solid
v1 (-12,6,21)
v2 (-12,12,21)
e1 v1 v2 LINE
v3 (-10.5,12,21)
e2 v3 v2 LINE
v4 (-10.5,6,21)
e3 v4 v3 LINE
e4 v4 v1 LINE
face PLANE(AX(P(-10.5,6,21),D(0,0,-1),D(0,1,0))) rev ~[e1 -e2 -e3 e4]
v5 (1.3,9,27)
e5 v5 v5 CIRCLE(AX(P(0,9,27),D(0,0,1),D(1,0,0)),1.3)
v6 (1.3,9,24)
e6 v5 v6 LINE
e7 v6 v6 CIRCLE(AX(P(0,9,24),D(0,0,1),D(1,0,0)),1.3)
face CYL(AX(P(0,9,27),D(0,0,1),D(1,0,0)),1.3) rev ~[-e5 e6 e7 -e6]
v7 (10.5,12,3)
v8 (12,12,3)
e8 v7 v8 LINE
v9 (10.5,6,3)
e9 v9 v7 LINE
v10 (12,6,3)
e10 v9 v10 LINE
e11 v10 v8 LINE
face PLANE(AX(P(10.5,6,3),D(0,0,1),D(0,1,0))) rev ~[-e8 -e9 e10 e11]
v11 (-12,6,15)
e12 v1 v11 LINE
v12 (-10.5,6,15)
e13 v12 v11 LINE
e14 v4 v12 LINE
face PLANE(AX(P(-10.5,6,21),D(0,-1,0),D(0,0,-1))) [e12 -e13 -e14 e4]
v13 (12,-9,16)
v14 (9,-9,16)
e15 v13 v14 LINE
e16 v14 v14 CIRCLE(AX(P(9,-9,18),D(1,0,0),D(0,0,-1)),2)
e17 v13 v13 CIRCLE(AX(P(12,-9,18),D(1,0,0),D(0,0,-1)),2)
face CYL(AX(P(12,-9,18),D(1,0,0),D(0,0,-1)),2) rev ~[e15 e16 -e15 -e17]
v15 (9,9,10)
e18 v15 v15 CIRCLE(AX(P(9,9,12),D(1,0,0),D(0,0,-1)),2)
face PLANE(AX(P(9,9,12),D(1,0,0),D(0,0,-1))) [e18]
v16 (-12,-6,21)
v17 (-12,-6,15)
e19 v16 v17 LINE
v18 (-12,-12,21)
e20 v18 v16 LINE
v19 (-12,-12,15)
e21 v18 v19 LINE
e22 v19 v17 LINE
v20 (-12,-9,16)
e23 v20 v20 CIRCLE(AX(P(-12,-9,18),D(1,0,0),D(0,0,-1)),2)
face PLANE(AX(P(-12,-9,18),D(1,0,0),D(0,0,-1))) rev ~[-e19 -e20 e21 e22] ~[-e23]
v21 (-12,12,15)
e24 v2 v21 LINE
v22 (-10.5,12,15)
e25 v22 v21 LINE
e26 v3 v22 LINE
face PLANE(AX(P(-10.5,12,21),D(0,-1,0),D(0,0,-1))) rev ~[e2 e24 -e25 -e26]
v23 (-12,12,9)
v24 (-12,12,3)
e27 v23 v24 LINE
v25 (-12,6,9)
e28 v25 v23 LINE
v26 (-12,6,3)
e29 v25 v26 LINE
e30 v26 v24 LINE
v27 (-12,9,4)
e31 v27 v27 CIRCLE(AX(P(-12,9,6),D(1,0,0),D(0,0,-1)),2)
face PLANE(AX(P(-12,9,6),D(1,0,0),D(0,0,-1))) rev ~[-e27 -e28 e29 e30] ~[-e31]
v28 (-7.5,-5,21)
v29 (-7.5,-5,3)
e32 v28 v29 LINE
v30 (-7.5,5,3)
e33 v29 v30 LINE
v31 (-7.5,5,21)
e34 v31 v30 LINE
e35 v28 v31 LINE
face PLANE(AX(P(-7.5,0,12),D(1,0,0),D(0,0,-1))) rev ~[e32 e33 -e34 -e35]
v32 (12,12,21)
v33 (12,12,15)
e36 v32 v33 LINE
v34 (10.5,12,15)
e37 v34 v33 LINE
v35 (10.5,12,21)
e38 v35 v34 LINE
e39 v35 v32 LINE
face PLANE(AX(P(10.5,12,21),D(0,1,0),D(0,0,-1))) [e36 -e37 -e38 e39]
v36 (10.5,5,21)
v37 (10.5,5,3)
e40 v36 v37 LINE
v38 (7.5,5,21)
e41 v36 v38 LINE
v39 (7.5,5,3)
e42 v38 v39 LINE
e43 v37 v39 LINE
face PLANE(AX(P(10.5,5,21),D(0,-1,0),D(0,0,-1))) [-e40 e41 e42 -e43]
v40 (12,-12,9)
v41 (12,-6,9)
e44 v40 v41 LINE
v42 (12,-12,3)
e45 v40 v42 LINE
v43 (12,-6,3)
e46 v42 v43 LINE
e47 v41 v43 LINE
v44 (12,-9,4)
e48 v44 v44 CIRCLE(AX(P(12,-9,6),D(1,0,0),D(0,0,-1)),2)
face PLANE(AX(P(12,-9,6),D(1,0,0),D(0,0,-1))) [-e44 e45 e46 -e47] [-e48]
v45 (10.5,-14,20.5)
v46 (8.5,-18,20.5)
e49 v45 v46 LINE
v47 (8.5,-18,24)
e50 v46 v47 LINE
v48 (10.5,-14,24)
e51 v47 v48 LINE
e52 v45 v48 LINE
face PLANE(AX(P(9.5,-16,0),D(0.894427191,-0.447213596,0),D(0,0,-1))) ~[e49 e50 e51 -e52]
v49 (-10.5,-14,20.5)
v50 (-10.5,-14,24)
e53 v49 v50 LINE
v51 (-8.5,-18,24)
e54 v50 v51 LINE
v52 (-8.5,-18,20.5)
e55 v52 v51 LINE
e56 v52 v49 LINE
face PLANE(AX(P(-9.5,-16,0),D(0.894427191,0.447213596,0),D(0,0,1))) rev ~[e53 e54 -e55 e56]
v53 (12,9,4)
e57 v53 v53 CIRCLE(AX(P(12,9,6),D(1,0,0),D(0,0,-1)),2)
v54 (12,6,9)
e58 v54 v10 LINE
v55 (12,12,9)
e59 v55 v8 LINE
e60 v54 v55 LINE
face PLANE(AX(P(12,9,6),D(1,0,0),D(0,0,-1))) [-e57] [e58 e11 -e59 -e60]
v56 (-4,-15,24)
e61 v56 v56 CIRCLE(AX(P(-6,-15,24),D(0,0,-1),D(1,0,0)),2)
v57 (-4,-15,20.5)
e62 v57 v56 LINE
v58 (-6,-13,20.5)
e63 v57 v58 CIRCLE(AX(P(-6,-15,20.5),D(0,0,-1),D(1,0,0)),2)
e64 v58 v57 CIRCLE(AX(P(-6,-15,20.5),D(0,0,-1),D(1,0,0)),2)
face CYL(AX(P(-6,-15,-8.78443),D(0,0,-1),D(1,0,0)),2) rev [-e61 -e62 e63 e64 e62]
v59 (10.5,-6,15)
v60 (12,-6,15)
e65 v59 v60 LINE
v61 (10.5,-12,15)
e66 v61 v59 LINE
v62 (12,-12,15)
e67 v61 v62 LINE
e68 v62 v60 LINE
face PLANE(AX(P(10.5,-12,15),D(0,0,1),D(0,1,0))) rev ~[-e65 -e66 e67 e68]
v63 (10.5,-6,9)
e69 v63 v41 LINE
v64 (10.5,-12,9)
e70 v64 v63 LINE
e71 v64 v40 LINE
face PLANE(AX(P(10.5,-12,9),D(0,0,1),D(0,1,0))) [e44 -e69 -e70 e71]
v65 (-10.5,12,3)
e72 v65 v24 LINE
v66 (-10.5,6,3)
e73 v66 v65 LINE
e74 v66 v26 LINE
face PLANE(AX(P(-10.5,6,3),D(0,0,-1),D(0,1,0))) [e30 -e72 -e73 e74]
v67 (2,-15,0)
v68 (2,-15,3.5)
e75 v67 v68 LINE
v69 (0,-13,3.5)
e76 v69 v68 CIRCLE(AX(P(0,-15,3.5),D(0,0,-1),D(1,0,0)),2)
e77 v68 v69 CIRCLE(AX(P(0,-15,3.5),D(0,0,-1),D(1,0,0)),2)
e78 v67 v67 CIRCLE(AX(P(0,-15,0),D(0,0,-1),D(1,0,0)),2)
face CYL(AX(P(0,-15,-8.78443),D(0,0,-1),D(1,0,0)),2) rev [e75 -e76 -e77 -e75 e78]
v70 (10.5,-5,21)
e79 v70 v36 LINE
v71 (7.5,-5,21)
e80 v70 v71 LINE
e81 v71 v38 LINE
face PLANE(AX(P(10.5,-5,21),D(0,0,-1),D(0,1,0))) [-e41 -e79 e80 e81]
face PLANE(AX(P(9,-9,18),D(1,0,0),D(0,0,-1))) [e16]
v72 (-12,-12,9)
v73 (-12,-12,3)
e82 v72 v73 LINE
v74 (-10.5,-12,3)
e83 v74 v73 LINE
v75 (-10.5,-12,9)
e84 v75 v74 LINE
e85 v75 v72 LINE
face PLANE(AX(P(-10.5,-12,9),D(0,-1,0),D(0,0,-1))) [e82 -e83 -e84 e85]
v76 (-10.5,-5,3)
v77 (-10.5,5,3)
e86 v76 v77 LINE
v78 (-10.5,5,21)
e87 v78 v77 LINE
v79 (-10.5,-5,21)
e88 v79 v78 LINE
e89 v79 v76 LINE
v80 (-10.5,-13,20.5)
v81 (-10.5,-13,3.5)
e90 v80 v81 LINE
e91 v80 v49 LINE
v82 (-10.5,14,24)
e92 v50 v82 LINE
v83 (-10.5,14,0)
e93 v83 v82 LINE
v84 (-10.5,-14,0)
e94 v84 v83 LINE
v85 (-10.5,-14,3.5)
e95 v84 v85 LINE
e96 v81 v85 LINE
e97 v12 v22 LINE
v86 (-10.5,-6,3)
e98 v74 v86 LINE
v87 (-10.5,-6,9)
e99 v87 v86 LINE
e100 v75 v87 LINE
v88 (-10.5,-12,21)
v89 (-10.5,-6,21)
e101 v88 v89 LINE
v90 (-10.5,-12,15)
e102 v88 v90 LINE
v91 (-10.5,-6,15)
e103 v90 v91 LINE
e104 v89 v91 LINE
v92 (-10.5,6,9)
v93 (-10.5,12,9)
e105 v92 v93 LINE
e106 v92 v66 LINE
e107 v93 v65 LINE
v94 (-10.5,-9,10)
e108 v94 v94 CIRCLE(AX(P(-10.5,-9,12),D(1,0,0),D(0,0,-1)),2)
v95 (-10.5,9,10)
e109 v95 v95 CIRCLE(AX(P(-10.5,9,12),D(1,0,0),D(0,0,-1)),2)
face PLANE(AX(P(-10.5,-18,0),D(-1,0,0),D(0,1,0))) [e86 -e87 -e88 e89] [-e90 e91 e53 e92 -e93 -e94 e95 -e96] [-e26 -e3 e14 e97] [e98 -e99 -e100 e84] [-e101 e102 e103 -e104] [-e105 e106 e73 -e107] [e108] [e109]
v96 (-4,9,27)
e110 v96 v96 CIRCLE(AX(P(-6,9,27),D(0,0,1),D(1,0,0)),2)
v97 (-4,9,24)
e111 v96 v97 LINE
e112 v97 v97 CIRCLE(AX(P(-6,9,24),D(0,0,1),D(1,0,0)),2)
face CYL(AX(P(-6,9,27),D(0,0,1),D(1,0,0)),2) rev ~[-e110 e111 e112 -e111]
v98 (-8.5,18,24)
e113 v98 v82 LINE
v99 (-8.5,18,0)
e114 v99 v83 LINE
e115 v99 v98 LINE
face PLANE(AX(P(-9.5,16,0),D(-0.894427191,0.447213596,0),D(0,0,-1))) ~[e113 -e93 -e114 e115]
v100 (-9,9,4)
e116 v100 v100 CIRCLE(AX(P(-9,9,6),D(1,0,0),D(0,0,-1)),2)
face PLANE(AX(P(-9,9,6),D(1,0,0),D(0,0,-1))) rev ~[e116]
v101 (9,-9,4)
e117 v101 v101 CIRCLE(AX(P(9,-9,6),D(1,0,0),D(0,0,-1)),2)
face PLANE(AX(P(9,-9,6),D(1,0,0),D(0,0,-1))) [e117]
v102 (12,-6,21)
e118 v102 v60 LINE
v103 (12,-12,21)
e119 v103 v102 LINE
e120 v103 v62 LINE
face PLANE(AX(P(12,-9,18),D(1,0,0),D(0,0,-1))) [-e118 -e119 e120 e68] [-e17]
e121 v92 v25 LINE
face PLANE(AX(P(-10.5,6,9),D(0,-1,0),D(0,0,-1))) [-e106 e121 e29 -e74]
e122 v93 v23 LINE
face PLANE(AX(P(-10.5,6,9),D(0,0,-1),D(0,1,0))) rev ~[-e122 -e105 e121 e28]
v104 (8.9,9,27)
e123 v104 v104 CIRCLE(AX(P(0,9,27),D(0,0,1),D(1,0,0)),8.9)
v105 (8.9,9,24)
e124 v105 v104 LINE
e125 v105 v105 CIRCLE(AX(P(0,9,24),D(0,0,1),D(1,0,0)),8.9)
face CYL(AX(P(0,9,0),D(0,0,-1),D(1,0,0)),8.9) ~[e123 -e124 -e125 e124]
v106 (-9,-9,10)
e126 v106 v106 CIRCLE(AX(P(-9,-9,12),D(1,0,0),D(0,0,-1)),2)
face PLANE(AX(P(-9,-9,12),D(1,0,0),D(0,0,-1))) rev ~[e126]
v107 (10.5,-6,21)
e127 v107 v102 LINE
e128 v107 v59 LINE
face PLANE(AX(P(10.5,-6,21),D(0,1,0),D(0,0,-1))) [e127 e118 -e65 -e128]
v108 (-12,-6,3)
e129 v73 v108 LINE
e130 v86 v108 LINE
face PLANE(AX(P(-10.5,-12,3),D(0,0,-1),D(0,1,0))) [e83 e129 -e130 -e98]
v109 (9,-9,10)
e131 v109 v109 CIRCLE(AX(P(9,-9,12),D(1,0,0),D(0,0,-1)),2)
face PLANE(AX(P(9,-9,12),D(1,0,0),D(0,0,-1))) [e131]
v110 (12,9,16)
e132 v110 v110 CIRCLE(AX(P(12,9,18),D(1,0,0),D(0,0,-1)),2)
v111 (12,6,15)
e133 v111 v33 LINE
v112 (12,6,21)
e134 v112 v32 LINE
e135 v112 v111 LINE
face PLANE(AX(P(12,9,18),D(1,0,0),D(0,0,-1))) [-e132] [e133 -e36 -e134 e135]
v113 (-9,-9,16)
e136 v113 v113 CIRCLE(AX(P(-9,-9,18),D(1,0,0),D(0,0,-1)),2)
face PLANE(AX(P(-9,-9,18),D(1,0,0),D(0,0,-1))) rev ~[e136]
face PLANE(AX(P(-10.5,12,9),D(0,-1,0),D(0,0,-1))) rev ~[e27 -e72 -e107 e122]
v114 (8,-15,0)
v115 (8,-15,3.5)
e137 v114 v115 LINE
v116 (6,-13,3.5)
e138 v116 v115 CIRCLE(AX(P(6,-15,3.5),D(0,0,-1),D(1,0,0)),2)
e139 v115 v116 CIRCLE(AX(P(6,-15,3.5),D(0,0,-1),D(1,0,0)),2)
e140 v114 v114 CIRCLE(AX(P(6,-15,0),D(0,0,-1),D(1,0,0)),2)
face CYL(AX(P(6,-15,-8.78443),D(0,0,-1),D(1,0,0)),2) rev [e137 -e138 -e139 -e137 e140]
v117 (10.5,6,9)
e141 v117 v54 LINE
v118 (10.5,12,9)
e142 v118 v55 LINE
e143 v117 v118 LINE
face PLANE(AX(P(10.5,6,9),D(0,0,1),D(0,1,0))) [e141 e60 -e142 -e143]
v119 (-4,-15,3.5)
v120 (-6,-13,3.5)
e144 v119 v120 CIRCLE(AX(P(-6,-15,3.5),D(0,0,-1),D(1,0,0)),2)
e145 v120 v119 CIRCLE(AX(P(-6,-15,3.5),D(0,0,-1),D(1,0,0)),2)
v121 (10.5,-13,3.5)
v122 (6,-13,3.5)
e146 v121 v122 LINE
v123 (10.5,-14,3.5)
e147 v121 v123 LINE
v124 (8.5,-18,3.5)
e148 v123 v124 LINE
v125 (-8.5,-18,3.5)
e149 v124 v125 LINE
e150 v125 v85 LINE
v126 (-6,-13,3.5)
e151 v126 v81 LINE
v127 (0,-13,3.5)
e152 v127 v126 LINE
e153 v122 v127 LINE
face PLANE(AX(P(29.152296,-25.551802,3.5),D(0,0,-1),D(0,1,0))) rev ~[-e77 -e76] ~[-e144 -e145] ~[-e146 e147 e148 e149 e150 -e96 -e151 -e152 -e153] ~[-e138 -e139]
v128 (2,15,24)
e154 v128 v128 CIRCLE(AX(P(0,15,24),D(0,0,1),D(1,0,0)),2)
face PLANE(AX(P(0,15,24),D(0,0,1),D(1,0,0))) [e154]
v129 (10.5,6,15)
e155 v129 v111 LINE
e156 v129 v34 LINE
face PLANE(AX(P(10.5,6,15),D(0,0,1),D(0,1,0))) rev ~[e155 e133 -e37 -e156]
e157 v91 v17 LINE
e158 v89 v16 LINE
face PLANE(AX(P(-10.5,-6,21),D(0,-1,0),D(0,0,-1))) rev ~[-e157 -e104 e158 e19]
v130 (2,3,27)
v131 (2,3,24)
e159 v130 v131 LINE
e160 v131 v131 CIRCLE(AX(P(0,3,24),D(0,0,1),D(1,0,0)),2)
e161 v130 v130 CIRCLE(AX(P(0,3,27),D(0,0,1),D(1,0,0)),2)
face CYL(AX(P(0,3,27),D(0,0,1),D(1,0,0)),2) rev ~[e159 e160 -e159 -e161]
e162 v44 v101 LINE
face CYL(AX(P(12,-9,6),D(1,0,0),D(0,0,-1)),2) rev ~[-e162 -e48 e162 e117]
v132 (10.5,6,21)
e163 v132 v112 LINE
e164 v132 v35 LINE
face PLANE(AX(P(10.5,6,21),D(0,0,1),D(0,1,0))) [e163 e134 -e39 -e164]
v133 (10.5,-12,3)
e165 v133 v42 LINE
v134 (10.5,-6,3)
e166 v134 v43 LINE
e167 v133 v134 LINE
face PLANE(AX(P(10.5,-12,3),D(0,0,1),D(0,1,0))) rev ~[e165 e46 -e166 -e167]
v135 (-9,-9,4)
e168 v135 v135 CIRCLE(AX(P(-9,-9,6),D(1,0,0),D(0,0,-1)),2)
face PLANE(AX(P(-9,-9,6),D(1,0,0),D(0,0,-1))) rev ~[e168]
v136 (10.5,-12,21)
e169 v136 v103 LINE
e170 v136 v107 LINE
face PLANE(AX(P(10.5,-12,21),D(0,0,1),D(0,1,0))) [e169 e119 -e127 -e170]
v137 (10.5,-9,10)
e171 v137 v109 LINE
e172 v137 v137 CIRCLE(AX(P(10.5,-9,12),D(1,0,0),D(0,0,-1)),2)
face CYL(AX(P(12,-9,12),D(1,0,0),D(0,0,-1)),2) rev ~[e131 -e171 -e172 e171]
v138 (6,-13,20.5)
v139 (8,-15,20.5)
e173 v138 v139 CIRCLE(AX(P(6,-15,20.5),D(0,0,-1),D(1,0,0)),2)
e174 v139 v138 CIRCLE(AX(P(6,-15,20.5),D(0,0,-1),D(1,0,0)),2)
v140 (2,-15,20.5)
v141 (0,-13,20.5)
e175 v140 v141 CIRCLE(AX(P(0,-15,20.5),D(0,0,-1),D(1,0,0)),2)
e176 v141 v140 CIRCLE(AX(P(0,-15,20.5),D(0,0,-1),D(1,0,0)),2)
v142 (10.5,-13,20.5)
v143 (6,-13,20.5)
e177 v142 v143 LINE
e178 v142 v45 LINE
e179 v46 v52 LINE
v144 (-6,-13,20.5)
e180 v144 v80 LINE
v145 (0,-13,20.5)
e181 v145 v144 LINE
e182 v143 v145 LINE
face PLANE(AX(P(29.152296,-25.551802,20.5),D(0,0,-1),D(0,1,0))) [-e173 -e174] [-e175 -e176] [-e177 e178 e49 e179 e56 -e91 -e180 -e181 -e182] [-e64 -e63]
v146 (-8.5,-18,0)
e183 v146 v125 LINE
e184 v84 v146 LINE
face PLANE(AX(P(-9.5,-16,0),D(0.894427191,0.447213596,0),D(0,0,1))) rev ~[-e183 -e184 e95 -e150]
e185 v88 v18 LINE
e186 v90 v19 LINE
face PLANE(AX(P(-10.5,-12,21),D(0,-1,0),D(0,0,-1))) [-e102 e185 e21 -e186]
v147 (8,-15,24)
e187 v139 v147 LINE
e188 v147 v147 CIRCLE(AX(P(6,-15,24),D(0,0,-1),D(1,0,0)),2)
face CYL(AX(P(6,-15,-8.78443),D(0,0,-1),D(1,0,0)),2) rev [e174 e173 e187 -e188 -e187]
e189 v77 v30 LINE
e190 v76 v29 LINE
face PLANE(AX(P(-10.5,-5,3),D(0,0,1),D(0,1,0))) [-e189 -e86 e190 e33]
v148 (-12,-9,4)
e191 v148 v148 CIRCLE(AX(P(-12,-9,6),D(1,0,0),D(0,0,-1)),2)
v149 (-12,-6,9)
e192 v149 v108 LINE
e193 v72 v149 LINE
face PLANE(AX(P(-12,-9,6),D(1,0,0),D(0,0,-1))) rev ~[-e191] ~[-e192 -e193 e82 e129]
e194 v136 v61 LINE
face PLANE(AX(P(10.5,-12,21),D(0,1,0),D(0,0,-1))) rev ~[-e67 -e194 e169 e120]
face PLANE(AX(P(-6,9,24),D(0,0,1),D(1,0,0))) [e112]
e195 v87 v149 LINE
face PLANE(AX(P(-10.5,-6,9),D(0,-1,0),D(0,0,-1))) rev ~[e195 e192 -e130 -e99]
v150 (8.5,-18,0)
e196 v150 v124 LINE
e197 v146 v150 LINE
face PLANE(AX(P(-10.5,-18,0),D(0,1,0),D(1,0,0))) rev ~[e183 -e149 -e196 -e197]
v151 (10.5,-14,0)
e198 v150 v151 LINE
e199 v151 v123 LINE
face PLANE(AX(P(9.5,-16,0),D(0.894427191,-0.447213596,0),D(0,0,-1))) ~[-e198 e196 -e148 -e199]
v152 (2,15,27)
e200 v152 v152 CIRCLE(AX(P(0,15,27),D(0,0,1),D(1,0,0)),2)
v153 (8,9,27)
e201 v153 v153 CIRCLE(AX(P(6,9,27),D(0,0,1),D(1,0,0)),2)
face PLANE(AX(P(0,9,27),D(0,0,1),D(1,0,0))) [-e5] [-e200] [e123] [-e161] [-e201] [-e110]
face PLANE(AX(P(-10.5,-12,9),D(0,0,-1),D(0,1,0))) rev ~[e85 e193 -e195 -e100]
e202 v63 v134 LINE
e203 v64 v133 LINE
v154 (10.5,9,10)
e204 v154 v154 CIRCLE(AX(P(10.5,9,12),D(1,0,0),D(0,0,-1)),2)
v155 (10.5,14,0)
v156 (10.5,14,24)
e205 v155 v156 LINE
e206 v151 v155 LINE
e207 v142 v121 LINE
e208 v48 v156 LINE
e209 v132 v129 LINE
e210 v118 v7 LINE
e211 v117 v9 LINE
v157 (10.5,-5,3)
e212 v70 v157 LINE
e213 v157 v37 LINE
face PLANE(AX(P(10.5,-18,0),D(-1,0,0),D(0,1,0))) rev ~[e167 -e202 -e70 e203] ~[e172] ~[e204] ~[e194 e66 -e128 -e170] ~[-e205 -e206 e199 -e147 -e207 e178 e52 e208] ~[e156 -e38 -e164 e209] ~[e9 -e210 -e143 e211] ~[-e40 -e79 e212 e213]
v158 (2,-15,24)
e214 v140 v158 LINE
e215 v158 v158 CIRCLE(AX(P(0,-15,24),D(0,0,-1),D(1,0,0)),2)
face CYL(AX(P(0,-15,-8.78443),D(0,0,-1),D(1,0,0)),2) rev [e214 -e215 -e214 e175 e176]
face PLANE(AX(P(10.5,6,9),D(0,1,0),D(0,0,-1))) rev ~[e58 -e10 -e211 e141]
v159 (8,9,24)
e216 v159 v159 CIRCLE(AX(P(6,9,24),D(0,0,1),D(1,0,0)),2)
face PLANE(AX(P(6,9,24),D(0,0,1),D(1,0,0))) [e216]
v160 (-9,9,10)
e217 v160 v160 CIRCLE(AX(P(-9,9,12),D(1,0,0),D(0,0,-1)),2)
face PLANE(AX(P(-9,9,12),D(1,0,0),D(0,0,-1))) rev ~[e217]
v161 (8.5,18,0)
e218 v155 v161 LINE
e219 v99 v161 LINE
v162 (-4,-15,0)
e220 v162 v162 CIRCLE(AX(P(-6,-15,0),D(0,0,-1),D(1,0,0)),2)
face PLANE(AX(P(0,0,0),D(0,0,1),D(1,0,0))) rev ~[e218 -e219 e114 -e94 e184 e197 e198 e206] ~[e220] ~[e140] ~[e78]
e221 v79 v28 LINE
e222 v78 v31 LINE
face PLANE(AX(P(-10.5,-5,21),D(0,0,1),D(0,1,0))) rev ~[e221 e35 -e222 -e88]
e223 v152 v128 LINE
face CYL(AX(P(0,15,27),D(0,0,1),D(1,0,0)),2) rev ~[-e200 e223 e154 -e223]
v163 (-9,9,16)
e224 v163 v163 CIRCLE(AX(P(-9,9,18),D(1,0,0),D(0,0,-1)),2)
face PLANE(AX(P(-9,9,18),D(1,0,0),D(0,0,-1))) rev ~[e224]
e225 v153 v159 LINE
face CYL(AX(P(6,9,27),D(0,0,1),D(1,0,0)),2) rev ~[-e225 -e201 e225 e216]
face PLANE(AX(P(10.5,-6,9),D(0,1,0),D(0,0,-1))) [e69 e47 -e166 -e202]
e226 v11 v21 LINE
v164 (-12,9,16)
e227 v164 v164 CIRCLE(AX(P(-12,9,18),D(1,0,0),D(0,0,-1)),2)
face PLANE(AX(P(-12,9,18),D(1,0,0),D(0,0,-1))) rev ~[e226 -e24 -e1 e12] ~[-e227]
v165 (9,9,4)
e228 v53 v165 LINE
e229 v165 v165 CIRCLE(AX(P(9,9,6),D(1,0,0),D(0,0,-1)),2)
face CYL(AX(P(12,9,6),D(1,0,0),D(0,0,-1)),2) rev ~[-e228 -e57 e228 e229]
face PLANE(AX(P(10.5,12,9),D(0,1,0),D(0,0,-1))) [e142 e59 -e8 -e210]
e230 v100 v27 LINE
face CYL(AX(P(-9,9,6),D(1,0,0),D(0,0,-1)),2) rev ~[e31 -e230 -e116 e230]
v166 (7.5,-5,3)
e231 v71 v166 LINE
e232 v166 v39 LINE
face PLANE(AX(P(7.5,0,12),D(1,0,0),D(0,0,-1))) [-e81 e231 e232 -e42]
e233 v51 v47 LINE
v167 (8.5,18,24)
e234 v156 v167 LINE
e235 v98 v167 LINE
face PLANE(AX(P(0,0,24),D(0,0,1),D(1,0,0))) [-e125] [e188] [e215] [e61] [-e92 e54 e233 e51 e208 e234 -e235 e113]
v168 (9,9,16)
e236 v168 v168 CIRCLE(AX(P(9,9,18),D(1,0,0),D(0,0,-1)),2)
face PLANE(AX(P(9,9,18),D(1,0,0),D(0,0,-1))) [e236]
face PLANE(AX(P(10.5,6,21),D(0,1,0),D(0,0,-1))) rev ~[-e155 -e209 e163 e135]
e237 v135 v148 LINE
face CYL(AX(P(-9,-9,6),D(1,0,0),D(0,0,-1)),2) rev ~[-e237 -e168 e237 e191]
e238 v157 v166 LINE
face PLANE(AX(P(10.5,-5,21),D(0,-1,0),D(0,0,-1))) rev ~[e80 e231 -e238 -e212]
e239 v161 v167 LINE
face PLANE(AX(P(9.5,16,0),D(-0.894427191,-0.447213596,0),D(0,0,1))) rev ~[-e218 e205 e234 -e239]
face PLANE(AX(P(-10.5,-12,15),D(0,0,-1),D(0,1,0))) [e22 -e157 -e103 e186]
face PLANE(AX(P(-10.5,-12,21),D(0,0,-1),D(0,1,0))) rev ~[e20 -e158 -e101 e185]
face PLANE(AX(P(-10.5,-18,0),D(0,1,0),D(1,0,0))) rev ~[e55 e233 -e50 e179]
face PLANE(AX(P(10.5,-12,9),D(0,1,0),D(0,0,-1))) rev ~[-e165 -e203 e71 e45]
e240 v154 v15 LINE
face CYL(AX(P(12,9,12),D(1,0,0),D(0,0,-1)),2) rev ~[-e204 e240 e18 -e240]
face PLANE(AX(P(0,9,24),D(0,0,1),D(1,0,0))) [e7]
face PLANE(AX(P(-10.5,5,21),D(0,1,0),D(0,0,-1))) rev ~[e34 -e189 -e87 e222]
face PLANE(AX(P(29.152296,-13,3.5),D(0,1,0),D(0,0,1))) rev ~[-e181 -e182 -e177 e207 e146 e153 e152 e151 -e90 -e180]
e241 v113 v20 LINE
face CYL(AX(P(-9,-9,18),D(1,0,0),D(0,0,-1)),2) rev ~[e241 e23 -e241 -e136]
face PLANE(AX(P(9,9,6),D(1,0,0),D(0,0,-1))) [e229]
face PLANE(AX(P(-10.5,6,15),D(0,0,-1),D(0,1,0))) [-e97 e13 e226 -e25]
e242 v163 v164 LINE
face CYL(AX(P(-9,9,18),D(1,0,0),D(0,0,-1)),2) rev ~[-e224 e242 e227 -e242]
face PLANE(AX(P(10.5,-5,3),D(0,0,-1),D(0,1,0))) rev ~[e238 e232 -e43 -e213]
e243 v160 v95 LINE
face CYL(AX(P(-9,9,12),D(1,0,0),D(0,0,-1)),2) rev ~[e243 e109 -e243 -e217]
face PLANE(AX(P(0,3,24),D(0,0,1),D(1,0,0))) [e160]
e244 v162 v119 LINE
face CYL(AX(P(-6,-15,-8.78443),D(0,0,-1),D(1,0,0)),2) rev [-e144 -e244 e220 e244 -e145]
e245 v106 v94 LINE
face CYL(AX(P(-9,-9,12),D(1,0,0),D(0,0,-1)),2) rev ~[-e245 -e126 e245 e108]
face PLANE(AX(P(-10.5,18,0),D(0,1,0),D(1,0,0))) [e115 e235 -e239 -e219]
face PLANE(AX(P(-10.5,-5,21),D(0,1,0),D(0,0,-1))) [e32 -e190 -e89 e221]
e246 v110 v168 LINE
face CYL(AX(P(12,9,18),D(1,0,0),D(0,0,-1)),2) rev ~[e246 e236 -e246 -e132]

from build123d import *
from OCP.BRepFilletAPI import BRepFilletAPI_MakeChamfer

# Parameters (mm, degrees)
SKETCH1_W               = 21
SKETCH1_H               = 36
SKETCH1_R               = 8.9
BOSS_EXTRUDE1_DEPTH     = 24
SKETCH1_2_R             = 8.9
BOSS_EXTRUDE2_DEPTH     = 27
SKETCH2_R               = 2
SKETCH2_R_2             = 1.3
CUT_EXTRUDE1_DEPTH      = 3
CHAMFER1_SIZE           = 4
CHAMFER1_SIZE2          = 2
CHAMFER2_SIZE           = 2
CHAMFER2_SIZE2          = 4
CUT_EXTRUDE2_DEPTH      = 32.784430151
CUT_EXTRUDE2_DEPTH_BACK = 32.784430151
SKETCH4_R               = 2
CUT_EXTRUDE3_DEPTH      = 39.65229618
CUT_EXTRUDE3_DEPTH_BACK = 39.65229618
SKETCH5_W               = 17
SKETCH5_H               = 12.551801511
SKETCH7_W               = 6
SKETCH7_H               = 6
BOSS_EXTRUDE3_DEPTH     = 1.5
BOSS_EXTRUDE4_START     = -21
SKETCH7_2_W             = 6
SKETCH7_2_H             = 6
BOSS_EXTRUDE4_DEPTH     = 1.5
CUT_EXTRUDE6_START      = 1.5
SKETCH6_R               = 2
CUT_EXTRUDE6_DEPTH      = 3
CUT_EXTRUDE7_START      = -19.5
SKETCH6_3_R             = 2
CUT_EXTRUDE7_DEPTH      = 3
SKETCH8_W               = 18
SKETCH8_H               = 10
CUT_EXTRUDE8_DEPTH      = 3
CUT_EXTRUDE9_START      = -21
SKETCH8_2_W             = 18
SKETCH8_2_H             = 10
CUT_EXTRUDE9_DEPTH      = 3


with BuildPart() as part:
    # Sketch1 → Boss-Extrude1 (new body)
    with BuildSketch(Plane.XY):
        Rectangle(SKETCH1_W, SKETCH1_H)
        with Locations((0, 9)):
            Circle(SKETCH1_R, mode=Mode.SUBTRACT)
    extrude(amount=BOSS_EXTRUDE1_DEPTH)

    # Sketch1<2> → Boss-Extrude2 (add)
    with BuildSketch(Plane.XY):
        with Locations((0, 9)):
            Circle(SKETCH1_2_R)
    extrude(amount=BOSS_EXTRUDE2_DEPTH)

    # Sketch2 → Cut-Extrude1 (cut)
    with BuildSketch(Plane.XY.offset(27)):
        with Locations((0, 15)):
            Circle(SKETCH2_R)
        with Locations((6, 9)):
            Circle(SKETCH2_R)
        with Locations((0, 3)):
            Circle(SKETCH2_R)
        with Locations((-6, 9)):
            Circle(SKETCH2_R)
        with Locations((0, 9)):
            Circle(SKETCH2_R_2)
    extrude(amount=-CUT_EXTRUDE1_DEPTH, mode=Mode.SUBTRACT)

    # Chamfer1: one chamfer whose edges measure the first distance from different faces: ONE call of the kernel's chamfer builder (chamfer() names one face for all edges)
    chamfer1_edges_1 = [part.edges().sort_by_distance(p)[0] for p in [
        (-10.5, -18, 12),
    ]]
    chamfer1_side_1 = [part.faces().sort_by_distance(p)[0] for p in [
        (-10.5, 0, 12),
    ]]
    chamfer1_edges_2 = [part.edges().sort_by_distance(p)[0] for p in [
        (10.5, 18, 12),
    ]]
    chamfer1_side_2 = [part.faces().sort_by_distance(p)[0] for p in [
        (10.5, 0, 12),
    ]]
    chamfer1 = BRepFilletAPI_MakeChamfer(part.part.solid().wrapped)
    for e in chamfer1_edges_1:
        chamfer1.Add(CHAMFER1_SIZE, CHAMFER1_SIZE2, e.wrapped, chamfer1_side_1[0].wrapped)  # the first distance lies on this face
    for e in chamfer1_edges_2:
        chamfer1.Add(CHAMFER1_SIZE, CHAMFER1_SIZE2, e.wrapped, chamfer1_side_2[0].wrapped)  # the first distance lies on this face
    add(Compound.cast(chamfer1.Shape()), mode=Mode.REPLACE)

    # Chamfer2: one chamfer whose edges measure the first distance from different faces: ONE call of the kernel's chamfer builder (chamfer() names one face for all edges)
    chamfer2_edges_1 = [part.edges().sort_by_distance(p)[0] for p in [
        (10.5, -18, 12),
    ]]
    chamfer2_side_1 = [part.faces().sort_by_distance(p)[0] for p in [
        (1, -18, 12),
    ]]
    chamfer2_edges_2 = [part.edges().sort_by_distance(p)[0] for p in [
        (-10.5, 18, 12),
    ]]
    chamfer2_side_2 = [part.faces().sort_by_distance(p)[0] for p in [
        (-1, 18, 12),
    ]]
    chamfer2 = BRepFilletAPI_MakeChamfer(part.part.solid().wrapped)
    for e in chamfer2_edges_1:
        chamfer2.Add(CHAMFER2_SIZE, CHAMFER2_SIZE2, e.wrapped, chamfer2_side_1[0].wrapped)  # the first distance lies on this face
    for e in chamfer2_edges_2:
        chamfer2.Add(CHAMFER2_SIZE, CHAMFER2_SIZE2, e.wrapped, chamfer2_side_2[0].wrapped)  # the first distance lies on this face
    add(Compound.cast(chamfer2.Shape()), mode=Mode.REPLACE)

    # Sketch4 → Cut-Extrude2 (cut, two sides: drawn at the far end of the back side and taken through both)
    with BuildSketch(Plane.XY.offset(24).offset(-CUT_EXTRUDE2_DEPTH_BACK)):
        with Locations((0, -15)):
            Circle(SKETCH4_R)
        with Locations((-6, -15)):
            Circle(SKETCH4_R)
        with Locations((6, -15)):
            Circle(SKETCH4_R)
    extrude(amount=CUT_EXTRUDE2_DEPTH + CUT_EXTRUDE2_DEPTH_BACK, mode=Mode.SUBTRACT)

    # Sketch5 → Cut-Extrude3 (cut, two sides: drawn at the far end of the back side and taken through both)
    with BuildSketch(Plane.ZY.offset(10.5).offset(-CUT_EXTRUDE3_DEPTH_BACK)):
        with Locations((12, -19.275900756)):
            Rectangle(SKETCH5_W, SKETCH5_H)
    extrude(amount=CUT_EXTRUDE3_DEPTH + CUT_EXTRUDE3_DEPTH_BACK, mode=Mode.SUBTRACT)

    # Sketch7 → Boss-Extrude3 (add)
    with BuildSketch(Plane(origin=(10.5, 0, 0), x_dir=(0, 0, -1), z_dir=(1, 0, 0))):
        with Locations((-18, 9)):
            Rectangle(SKETCH7_W, SKETCH7_H)
        with Locations((-6, 9)):
            Rectangle(SKETCH7_W, SKETCH7_H)
        with Locations((-6, -9)):
            Rectangle(SKETCH7_W, SKETCH7_H)
        with Locations((-18, -9)):
            Rectangle(SKETCH7_W, SKETCH7_H)
    extrude(amount=BOSS_EXTRUDE3_DEPTH)

    # Sketch7<2> → Boss-Extrude4 (add)
    with BuildSketch(Plane(origin=(10.5, 0, 0), x_dir=(0, 0, -1), z_dir=(1, 0, 0)).offset(BOSS_EXTRUDE4_START)):
        with Locations((-18, 9)):
            Rectangle(SKETCH7_2_W, SKETCH7_2_H)
        with Locations((-6, 9)):
            Rectangle(SKETCH7_2_W, SKETCH7_2_H)
        with Locations((-6, -9)):
            Rectangle(SKETCH7_2_W, SKETCH7_2_H)
        with Locations((-18, -9)):
            Rectangle(SKETCH7_2_W, SKETCH7_2_H)
    extrude(amount=-BOSS_EXTRUDE4_DEPTH)

    # Sketch6 → Cut-Extrude6 (cut)
    with BuildSketch(Plane(origin=(10.5, 0, 0), x_dir=(0, 0, -1), z_dir=(1, 0, 0)).offset(CUT_EXTRUDE6_START)):
        with Locations((-12, 9)):
            Circle(SKETCH6_R)
        with Locations((-6, 9)):
            Circle(SKETCH6_R)
        with Locations((-18, 9)):
            Circle(SKETCH6_R)
        with Locations((-12, -9)):
            Circle(SKETCH6_R)
        with Locations((-6, -9)):
            Circle(SKETCH6_R)
        with Locations((-18, -9)):
            Circle(SKETCH6_R)
    extrude(amount=-CUT_EXTRUDE6_DEPTH, mode=Mode.SUBTRACT)

    # Sketch6<3> → Cut-Extrude7 (cut)
    with BuildSketch(Plane(origin=(10.5, 0, 0), x_dir=(0, 0, -1), z_dir=(1, 0, 0)).offset(CUT_EXTRUDE7_START)):
        with Locations((-12, 9)):
            Circle(SKETCH6_3_R)
        with Locations((-6, 9)):
            Circle(SKETCH6_3_R)
        with Locations((-18, 9)):
            Circle(SKETCH6_3_R)
        with Locations((-12, -9)):
            Circle(SKETCH6_3_R)
        with Locations((-6, -9)):
            Circle(SKETCH6_3_R)
        with Locations((-18, -9)):
            Circle(SKETCH6_3_R)
    extrude(amount=-CUT_EXTRUDE7_DEPTH, mode=Mode.SUBTRACT)

    # Sketch8 → Cut-Extrude8 (cut)
    with BuildSketch(Plane(origin=(10.5, 0, 0), x_dir=(0, 0, -1), z_dir=(1, 0, 0))):
        with Locations((-12, 0)):
            Rectangle(SKETCH8_W, SKETCH8_H)
    extrude(amount=-CUT_EXTRUDE8_DEPTH, mode=Mode.SUBTRACT)

    # Sketch8<2> → Cut-Extrude9 (cut)
    with BuildSketch(Plane(origin=(10.5, 0, 0), x_dir=(0, 0, -1), z_dir=(1, 0, 0)).offset(CUT_EXTRUDE9_START)):
        with Locations((-12, 0)):
            Rectangle(SKETCH8_2_W, SKETCH8_2_H)
    extrude(amount=CUT_EXTRUDE9_DEPTH, mode=Mode.SUBTRACT)


solid = part.part
